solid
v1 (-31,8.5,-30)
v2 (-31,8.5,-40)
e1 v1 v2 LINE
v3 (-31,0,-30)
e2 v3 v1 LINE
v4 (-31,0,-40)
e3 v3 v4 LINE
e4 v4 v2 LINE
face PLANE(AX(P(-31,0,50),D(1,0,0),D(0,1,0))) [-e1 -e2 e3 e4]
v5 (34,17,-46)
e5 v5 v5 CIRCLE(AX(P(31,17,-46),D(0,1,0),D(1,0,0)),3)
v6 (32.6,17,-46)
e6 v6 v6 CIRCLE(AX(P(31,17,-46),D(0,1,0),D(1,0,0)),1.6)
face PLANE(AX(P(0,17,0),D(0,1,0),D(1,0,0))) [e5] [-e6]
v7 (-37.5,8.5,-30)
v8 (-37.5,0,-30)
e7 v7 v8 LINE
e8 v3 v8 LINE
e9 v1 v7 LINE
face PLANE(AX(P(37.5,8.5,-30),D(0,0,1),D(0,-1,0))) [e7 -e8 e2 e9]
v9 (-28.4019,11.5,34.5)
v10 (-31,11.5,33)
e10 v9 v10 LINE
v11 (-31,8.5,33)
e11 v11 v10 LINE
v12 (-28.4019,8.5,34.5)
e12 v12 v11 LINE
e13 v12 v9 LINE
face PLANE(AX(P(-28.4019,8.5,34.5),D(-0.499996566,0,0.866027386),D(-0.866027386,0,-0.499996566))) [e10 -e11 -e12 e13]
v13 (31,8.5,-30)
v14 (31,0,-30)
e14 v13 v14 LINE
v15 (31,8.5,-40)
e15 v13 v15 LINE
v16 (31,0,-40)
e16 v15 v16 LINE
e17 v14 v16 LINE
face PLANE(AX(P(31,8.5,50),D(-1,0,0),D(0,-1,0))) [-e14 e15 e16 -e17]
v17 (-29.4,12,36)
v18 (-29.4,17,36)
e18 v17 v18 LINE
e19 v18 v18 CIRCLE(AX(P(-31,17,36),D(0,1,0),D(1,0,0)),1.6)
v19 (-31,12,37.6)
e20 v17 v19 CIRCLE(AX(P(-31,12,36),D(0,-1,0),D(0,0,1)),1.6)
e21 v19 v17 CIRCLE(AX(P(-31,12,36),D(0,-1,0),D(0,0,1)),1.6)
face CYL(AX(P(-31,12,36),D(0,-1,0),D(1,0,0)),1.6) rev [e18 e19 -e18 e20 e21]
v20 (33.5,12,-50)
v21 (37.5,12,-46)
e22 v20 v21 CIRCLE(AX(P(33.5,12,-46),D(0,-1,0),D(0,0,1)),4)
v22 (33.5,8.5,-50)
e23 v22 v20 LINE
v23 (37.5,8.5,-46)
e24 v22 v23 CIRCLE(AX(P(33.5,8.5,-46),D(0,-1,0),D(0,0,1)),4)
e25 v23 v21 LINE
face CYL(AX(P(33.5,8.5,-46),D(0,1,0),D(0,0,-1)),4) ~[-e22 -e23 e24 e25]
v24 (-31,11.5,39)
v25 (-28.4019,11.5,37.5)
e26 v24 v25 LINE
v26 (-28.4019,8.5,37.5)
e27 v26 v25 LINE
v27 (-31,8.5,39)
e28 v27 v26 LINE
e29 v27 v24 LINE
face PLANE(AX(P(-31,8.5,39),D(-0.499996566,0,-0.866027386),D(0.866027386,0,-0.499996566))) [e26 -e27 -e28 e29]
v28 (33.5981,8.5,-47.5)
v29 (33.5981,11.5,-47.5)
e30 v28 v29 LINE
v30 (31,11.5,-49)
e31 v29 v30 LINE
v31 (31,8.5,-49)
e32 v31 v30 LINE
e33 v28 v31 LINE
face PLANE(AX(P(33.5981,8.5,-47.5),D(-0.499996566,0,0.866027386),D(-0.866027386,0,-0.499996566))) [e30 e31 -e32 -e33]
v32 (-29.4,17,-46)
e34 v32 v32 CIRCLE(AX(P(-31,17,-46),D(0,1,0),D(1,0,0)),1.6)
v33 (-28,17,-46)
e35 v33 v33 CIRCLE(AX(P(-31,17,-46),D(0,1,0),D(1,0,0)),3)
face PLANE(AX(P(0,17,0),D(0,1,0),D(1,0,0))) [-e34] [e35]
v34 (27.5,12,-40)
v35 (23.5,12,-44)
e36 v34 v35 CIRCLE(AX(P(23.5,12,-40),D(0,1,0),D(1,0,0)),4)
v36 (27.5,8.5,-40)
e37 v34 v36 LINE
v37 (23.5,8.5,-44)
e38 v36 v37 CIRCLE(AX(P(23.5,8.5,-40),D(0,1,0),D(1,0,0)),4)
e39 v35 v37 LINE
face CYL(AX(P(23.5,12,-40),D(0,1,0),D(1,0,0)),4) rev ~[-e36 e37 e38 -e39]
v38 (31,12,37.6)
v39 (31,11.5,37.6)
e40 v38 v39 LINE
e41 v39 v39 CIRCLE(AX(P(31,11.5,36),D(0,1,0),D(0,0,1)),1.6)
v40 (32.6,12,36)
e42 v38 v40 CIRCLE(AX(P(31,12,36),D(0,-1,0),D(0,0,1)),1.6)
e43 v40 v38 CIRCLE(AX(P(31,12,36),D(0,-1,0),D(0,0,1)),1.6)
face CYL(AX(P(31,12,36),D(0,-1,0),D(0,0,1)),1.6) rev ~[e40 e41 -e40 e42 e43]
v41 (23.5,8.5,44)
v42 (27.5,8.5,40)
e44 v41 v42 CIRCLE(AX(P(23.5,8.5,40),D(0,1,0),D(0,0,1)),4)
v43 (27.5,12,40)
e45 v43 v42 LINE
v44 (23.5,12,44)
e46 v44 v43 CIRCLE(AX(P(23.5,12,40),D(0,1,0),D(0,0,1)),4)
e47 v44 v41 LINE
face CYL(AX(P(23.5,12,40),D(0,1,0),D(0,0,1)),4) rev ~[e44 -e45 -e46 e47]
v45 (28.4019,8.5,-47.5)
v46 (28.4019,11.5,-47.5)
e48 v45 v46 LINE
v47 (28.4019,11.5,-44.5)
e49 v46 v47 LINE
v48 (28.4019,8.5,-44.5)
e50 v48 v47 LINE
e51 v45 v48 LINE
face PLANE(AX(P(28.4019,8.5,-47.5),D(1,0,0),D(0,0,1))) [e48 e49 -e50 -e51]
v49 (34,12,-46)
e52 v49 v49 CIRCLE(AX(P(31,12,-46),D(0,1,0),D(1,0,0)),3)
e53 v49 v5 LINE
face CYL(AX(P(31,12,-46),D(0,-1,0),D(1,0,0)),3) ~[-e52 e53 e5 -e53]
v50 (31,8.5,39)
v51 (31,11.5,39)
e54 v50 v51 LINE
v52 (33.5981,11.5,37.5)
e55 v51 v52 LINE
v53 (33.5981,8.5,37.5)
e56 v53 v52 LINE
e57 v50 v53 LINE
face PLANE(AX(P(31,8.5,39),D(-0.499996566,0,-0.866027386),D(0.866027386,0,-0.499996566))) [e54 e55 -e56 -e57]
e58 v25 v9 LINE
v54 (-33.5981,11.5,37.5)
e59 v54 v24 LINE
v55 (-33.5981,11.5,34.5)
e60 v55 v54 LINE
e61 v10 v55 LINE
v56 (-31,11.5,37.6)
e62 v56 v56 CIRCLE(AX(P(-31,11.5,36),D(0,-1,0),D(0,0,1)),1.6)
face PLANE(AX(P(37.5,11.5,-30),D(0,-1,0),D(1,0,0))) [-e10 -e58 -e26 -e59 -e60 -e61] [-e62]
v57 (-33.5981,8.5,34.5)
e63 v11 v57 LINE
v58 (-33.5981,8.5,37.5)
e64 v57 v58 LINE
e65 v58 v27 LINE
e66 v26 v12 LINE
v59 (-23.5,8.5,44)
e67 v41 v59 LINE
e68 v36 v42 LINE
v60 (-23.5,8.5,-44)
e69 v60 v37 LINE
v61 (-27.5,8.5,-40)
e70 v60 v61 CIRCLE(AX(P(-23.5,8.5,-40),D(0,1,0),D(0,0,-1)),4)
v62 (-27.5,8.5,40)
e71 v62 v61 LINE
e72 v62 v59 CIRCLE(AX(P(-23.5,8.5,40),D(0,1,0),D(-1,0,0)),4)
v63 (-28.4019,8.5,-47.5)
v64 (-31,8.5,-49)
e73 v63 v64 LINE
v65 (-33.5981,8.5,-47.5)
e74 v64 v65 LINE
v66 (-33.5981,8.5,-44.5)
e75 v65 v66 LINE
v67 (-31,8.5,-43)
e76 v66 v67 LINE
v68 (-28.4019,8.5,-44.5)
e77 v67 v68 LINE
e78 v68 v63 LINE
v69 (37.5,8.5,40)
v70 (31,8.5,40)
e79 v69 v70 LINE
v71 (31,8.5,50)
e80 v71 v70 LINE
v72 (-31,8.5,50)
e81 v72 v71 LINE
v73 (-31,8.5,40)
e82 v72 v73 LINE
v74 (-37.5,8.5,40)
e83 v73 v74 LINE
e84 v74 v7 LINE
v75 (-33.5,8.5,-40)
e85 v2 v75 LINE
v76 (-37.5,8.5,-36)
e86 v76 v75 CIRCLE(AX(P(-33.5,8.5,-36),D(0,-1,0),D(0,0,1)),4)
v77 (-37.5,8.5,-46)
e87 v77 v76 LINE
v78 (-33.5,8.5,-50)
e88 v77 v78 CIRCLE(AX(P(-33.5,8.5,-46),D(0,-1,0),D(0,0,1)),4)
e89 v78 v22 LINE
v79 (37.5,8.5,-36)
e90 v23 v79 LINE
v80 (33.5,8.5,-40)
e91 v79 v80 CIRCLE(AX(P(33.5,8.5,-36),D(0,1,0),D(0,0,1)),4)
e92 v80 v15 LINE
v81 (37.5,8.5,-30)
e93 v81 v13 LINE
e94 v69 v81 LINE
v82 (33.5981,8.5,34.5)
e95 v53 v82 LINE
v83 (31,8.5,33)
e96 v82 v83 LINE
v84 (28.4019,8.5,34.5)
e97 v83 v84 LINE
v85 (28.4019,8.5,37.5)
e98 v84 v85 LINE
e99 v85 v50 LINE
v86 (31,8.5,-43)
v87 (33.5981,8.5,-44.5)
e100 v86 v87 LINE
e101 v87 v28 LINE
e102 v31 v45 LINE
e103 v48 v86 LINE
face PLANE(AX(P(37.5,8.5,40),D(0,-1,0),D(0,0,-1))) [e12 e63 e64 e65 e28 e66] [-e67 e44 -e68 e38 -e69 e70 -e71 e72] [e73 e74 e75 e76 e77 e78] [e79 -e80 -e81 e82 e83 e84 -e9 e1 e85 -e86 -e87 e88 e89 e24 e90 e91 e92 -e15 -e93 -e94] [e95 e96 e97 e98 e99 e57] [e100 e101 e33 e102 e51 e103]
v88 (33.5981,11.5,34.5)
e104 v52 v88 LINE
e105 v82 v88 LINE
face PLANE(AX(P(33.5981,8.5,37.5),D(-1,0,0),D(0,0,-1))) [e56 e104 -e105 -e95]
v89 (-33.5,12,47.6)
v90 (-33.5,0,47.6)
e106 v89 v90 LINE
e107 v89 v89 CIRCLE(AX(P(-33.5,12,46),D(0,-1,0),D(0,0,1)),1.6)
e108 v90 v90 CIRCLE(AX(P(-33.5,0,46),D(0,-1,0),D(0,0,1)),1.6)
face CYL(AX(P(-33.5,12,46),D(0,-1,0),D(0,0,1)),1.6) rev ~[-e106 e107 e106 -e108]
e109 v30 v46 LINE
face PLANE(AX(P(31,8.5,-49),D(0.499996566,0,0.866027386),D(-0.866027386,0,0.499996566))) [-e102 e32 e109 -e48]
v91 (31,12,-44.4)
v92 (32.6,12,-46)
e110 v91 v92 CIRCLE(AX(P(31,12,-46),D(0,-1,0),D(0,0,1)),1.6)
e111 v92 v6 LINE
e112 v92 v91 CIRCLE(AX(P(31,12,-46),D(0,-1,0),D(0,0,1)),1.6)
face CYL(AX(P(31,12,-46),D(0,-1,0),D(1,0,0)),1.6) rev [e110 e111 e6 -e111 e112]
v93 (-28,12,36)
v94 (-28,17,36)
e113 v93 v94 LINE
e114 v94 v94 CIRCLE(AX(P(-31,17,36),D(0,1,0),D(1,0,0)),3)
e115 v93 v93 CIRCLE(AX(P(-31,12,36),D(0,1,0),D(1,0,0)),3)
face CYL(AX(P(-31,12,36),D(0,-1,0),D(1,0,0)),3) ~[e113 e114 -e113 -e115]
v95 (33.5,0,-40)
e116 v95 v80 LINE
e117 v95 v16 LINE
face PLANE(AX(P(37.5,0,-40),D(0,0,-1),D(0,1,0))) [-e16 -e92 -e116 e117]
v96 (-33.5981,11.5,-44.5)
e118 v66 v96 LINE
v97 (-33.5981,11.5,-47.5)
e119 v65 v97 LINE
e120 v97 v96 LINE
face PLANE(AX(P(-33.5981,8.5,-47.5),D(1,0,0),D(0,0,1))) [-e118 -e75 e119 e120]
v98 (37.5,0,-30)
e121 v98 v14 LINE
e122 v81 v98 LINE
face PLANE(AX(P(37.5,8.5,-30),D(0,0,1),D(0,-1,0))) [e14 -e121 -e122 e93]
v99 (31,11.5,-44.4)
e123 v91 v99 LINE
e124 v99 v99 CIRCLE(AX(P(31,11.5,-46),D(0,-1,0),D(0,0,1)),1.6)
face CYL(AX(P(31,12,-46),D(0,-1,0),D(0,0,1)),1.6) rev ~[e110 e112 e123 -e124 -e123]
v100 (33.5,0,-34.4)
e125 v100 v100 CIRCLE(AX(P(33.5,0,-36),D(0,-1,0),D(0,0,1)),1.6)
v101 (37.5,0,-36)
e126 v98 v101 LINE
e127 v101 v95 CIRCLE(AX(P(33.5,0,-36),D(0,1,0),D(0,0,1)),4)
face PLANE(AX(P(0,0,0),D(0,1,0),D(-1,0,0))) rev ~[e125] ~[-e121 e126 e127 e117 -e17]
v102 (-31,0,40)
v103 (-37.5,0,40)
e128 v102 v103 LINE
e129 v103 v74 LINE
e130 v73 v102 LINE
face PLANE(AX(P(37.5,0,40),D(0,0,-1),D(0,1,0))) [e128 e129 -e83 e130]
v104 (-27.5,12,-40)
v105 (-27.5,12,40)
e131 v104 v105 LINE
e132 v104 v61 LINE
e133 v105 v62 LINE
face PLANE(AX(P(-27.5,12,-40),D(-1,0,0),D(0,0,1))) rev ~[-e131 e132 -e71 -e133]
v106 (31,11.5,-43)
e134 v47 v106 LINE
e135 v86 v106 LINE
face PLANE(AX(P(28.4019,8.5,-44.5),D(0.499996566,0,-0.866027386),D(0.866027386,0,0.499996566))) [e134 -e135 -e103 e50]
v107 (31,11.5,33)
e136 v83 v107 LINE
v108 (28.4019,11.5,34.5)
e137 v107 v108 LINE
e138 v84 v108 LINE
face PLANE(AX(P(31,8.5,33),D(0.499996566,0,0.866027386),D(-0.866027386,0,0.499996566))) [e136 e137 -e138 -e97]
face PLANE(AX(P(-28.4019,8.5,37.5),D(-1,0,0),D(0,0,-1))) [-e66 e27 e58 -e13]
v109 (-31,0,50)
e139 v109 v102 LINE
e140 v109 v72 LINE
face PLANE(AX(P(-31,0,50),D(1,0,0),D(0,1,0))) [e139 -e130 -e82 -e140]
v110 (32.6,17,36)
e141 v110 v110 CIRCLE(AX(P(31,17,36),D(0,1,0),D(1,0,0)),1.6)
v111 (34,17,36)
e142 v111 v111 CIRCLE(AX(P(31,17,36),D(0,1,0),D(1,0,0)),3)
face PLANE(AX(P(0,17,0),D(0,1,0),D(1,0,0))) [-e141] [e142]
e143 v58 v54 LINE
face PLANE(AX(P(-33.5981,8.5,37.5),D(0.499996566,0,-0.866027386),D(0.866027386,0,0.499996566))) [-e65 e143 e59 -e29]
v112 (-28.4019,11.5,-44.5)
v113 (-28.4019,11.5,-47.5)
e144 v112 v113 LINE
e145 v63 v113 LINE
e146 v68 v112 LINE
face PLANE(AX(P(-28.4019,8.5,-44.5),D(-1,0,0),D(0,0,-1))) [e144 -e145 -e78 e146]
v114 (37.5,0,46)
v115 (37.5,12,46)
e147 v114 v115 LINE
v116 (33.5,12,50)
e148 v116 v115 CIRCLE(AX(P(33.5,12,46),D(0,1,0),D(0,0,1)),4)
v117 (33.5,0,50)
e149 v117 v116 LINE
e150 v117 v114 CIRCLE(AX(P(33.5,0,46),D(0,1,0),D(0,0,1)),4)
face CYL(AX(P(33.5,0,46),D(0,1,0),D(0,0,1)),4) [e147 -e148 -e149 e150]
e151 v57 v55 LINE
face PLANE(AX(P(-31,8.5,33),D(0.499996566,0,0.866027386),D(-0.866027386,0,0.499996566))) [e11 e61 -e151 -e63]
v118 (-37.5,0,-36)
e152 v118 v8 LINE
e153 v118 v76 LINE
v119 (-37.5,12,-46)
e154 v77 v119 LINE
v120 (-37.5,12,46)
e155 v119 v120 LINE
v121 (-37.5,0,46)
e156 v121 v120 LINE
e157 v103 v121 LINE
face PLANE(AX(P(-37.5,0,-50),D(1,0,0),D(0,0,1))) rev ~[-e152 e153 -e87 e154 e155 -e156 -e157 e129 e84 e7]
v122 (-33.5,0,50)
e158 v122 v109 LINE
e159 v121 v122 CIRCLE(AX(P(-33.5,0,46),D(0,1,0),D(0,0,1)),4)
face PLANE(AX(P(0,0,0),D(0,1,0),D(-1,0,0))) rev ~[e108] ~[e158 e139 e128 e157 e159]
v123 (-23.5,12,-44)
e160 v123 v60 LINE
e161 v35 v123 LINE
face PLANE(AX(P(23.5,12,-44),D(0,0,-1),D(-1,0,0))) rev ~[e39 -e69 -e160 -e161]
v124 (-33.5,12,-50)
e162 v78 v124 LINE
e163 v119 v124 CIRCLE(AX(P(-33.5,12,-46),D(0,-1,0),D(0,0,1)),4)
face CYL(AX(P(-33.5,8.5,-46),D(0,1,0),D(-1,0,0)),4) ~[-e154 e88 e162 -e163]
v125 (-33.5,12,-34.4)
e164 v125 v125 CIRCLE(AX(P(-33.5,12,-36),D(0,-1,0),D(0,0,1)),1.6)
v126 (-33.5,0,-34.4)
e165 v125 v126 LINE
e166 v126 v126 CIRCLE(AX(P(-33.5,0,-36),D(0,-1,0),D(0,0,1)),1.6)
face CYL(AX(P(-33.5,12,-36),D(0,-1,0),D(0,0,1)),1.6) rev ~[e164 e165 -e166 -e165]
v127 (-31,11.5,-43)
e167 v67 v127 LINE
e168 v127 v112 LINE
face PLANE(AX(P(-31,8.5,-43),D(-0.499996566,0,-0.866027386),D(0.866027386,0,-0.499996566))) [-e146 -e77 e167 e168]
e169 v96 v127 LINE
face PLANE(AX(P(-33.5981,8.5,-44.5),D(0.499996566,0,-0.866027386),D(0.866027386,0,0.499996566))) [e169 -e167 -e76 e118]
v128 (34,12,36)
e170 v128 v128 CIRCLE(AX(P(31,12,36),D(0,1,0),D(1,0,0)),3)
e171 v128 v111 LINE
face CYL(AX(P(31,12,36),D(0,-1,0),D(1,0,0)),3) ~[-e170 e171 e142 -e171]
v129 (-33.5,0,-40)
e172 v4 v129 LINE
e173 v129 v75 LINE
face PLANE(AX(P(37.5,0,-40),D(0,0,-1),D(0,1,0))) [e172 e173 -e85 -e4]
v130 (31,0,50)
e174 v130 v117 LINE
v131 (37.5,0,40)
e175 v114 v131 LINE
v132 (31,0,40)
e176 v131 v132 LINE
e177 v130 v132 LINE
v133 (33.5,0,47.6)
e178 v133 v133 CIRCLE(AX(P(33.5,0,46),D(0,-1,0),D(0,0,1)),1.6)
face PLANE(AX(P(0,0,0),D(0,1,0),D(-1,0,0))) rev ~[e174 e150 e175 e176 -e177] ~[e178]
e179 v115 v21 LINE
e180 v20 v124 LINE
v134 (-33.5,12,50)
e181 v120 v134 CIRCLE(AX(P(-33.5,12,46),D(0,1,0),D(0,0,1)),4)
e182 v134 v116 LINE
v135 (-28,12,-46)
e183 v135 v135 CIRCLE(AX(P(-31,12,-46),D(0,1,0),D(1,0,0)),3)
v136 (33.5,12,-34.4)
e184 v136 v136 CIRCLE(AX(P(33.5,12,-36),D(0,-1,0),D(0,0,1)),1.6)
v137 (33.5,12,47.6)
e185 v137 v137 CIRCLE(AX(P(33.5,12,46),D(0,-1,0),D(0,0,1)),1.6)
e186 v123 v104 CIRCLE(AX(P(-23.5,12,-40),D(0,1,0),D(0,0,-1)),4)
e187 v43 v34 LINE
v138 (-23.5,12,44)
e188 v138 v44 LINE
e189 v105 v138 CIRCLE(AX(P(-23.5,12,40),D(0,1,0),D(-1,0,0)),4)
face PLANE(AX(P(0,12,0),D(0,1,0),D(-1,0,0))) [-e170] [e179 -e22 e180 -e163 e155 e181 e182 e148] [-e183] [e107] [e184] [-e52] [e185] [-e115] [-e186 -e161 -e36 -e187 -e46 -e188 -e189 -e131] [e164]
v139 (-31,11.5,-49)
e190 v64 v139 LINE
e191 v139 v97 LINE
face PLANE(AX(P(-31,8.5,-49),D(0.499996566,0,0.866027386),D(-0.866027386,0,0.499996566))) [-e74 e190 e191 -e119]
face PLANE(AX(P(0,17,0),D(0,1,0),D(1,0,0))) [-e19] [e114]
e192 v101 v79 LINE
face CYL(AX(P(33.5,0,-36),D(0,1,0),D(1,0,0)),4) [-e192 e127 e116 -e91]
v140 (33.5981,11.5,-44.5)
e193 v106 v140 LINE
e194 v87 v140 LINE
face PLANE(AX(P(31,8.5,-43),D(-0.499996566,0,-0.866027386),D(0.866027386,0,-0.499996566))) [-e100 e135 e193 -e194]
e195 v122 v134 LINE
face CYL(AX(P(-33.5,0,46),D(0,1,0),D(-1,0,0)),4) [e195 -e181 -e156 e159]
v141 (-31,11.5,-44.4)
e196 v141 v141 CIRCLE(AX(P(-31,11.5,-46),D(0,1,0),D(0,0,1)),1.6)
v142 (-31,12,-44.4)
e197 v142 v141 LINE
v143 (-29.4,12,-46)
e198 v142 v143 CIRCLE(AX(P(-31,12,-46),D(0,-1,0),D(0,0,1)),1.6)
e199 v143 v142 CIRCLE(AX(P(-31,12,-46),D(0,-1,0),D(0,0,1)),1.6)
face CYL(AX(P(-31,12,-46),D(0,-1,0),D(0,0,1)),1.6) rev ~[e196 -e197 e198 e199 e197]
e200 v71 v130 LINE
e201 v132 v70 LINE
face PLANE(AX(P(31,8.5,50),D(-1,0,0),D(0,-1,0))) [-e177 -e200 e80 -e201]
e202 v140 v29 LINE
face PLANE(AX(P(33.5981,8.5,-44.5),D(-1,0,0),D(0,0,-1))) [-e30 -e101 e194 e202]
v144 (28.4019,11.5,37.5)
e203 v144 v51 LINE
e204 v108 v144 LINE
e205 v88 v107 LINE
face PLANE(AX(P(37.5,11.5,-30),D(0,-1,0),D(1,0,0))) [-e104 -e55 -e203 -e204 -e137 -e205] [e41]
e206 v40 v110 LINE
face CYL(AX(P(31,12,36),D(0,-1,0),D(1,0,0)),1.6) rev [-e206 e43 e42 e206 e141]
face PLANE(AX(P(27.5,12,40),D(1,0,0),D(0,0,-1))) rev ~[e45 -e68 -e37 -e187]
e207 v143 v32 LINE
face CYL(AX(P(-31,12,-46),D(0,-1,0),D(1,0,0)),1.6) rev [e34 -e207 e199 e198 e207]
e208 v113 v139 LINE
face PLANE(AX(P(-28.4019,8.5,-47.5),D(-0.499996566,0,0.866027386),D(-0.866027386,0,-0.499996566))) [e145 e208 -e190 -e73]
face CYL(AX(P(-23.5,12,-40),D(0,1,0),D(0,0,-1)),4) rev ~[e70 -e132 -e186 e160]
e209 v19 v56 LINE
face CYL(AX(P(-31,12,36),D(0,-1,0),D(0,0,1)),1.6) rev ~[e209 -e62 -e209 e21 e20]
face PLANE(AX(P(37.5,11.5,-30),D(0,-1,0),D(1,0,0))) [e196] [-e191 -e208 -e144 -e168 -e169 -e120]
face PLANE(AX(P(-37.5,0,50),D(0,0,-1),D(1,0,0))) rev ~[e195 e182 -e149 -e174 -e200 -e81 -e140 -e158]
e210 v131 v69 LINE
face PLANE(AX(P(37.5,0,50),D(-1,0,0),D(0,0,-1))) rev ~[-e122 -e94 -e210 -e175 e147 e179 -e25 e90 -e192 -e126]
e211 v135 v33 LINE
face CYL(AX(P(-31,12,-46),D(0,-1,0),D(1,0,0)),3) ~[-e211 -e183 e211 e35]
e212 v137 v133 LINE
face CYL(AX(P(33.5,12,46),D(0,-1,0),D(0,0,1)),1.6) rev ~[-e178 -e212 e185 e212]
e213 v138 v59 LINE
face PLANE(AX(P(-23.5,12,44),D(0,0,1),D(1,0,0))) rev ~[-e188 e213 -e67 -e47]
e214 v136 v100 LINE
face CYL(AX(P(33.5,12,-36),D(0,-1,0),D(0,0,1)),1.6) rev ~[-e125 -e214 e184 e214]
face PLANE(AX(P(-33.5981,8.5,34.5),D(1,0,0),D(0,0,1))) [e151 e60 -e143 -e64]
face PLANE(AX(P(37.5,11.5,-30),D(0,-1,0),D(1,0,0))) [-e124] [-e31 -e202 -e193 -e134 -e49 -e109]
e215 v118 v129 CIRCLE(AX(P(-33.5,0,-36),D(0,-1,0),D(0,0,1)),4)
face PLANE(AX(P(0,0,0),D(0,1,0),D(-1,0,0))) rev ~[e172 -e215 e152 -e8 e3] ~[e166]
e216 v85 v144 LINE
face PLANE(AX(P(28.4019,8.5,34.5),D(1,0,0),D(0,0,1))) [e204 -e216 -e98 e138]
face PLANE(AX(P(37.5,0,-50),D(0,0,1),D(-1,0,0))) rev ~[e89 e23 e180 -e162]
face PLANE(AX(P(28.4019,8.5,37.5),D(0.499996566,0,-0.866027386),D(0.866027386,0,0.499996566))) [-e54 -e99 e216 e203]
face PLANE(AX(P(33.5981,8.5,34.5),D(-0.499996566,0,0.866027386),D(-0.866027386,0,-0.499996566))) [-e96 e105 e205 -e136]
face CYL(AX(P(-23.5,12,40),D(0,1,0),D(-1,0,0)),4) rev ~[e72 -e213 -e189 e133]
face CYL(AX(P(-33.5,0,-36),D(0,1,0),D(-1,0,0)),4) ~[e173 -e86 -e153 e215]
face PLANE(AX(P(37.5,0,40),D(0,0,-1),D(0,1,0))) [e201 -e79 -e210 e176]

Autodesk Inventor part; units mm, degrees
ref_plane "YZ Plane" through (0, 0, 0) normal (1, 0, 0) x (0, 1, 0)
ref_plane "XZ Plane" through (0, 0, 0) normal (0, 1, 0) x (-1, 0, 0)
ref_plane "XY Plane" through (0, 0, 0) normal (0, 0, 1) x (1, 0, 0)
sketch "Sketch8" plane through (0, 0, 0) normal (0, 1, 0) x (-1, 0, 0)
  line L0 (37.5, 50) -> (-37.5, 50)
  line L1 (-37.5, 50) -> (-37.5, -50)
  line L2 (-37.5, -50) -> (37.5, -50)
  line L3 (37.5, -50) -> (37.5, 50)
  point P0 (0, 0)
  point P1 (37.5, 0)
  point P2 (0, 50)
  dimension "d42" = 100
  dimension "d43" = 75
extrude "Extrusion5" add sketch "Sketch8" along normal blind 12
sketch "Sketch9" plane through (0, 12, 0) normal (0, 1, 0) x (1, 0, 0)
  line L0 (-37.5, 50) -> (-37.5, -50) projected
  line L1 (-37.5, -50) -> (37.5, -50) projected
  point P0 (0, 0)
  point P1 (-33.5, -46)
  point P2 (-33.5, 36)
  point P3 (33.5, 36)
  point P4 (33.5, -46)
  dimension "d46" = 67
  dimension "d47" = 82
  dimension "d48" = 4
  dimension "d49" = 4
hole "Hole3" at (-33.5, 12, 46) at (-33.5, 12, -36) at (33.5, 12, -36) at (33.5, 12, 46) direction (0, -1, 0) diameter 3.2 end through all
sketch "Sketch10" plane through (0, 12, 0) normal (0, 1, 0) x (1, 0, 0)
  line L0 (37.5, 50) -> (-37.5, 50) projected
  point P0 (0, 0)
  point P1 (-31, -36)
  point P2 (-31, 46)
  point P3 (31, 46)
  point P4 (31, -36)
  dimension "d57" = 62
  dimension "d58" = 82
  dimension "d59" = 4
  dimension "d60" = 31
hole "Hole4" at (-31, 12, 36) at (-31, 12, -46) at (31, 12, -46) at (31, 12, 36) direction (0, -1, 0) diameter 3.2 end through all
sketch "Sketch11" plane through (37.5, 0, 50) normal (1, 0, 0) x (0, 0, -1)
  line L0 (10, 8.5) -> (80, 8.5)
  line L1 (80, 8.5) -> (80, 0)
  line L2 (80, 0) -> (10, 0)
  line L3 (10, 0) -> (10, 8.5)
  line L4 (0, 0) -> (0, 12) projected
  line L5 (0, 0) -> (100, 0) projected
  point P0 (50, 0)
  point P1 (45, 0)
  dimension "d69" = 8.5
  dimension "d70" = 70
  dimension "d71" = 45
extrude "Extrusion6" cut sketch "Sketch11" against normal through all
sketch "Sketch12" plane through (-37.5, 0, 50) normal (0, 0, 1) x (1, 0, 0)
  line L0 (6.5, 8.5) -> (68.5, 8.5)
  line L1 (68.5, 8.5) -> (68.5, 0)
  line L2 (68.5, 0) -> (6.5, 0)
  line L3 (6.5, 0) -> (6.5, 8.5)
  line L4 (0, 0) -> (75, 0) projected
  point P0 (37.5, 0)
  point P1 (37.5, 0)
  dimension "d74" = 8.5
  dimension "d75" = 62
extrude "Extrusion7" cut sketch "Sketch12" against normal through all
sketch "Sketch13" plane through (37.5, 0, -50) normal (1, 0, 0) x (0, 0, -1)
  line L0 (0, 0) -> (0, 12) projected
  line L1 (0, 0) -> (-10, 0)
  line L2 (-10, 0) -> (-10, 8.5)
  line L3 (-10, 8.5) -> (0, 8.5)
  line L4 (0, 8.5) -> (0, 0)
  line L5 (-20, 8.5) -> (-20, 0) projected
  line L6 (-90, 8.5) -> (-20, 8.5) projected
  point P0 (-50, 0)
  dimension "d78" = 10
extrude "Extrusion8" cut sketch "Sketch13" against normal through all
fillet "Fillet1" radius 4 6 edges at (-37.5, 4.25, -40) (-37.5, 10.25, -50) (-37.5, 6, 50) (37.5, 6, 50) (37.5, 4.25, -40) (37.5, 10.25, -50)
sketch "Sketch14" plane through (0, 12, 0) normal (0, 1, 0) x (1, 0, 0)
  line L0 (-23.5, -44) -> (23.5, -44)
  line L1 (27.5, -40) -> (27.5, 40)
  line L2 (23.5, 44) -> (-23.5, 44)
  line L3 (-27.5, 40) -> (-27.5, -40)
  line L4 (-33.5, -50) -> (33.5, -50) projected
  line L5 (33.5, 50) -> (-33.5, 50) projected
  line L6 (-37.5, 46) -> (-37.5, -46) projected
  line L7 (37.5, -46) -> (37.5, 46) projected
  arc A0 (-27.5, -40) -> (-23.5, -44) centre (-23.5, -40) ccw
  arc A1 (23.5, -44) -> (27.5, -40) centre (23.5, -40) ccw
  arc A2 (27.5, 40) -> (23.5, 44) centre (23.5, 40) ccw
  arc A3 (-23.5, 44) -> (-27.5, 40) centre (-23.5, 40) ccw
  point P0 (0, 0)
  dimension "d82" = 6
  dimension "d83" = 6
  dimension "d84" = 10
  dimension "d85" = 10
  dimension "d86" = 4
extrude "Extrusion9" cut sketch "Sketch14" against normal through all
sketch "Sketch15" plane through (0, 12, 0) normal (0, 1, 0) x (1, 0, 0)
  circle A0 centre (-31, 46) radius 1.6 projected
  circle A1 centre (-31, 46) radius 3
  circle A2 centre (-31, -36) radius 1.6 projected
  circle A3 centre (-31, -36) radius 3
  circle A4 centre (31, -36) radius 1.6 projected
  circle A5 centre (31, -36) radius 3
  circle A6 centre (31, 46) radius 1.6 projected
  circle A7 centre (31, 46) radius 3
  point P0 (0, 0)
  dimension "d89" = 6
  dimension "d90" = 6
  dimension "d91" = 6
  dimension "d92" = 6
extrude "Extrusion10" add sketch "Sketch15" along normal blind 5
sketch "Sketch16" plane through (37.5, 8.5, -30) normal (0, -1, 0) x (1, 0, 0)
  circle A0 centre (-6.5, 66) radius 1.6 projected
  circle A1 centre (-6.5, 66) radius 3 projected
  line L0 (-6.5, 63) -> (-9.0981, 64.5)
  line L1 (-9.0981, 64.5) -> (-9.0981, 67.5)
  line L2 (-9.0981, 67.5) -> (-6.5, 69)
  line L3 (-6.5, 69) -> (-3.9019, 67.5)
  line L4 (-3.9019, 67.5) -> (-3.9019, 64.5)
  line L5 (-3.9019, 64.5) -> (-6.5, 63)
  circle A2 centre (-68.5, -16) radius 1.6 projected
  circle A3 centre (-68.5, -16) radius 3 projected
  line L6 (-68.5, -13) -> (-65.9019, -14.5)
  line L7 (-65.9019, -14.5) -> (-65.9019, -17.5)
  line L8 (-65.9019, -17.5) -> (-68.5, -19)
  line L9 (-68.5, -19) -> (-71.0981, -17.5)
  line L10 (-71.0981, -17.5) -> (-71.0981, -14.5)
  line L11 (-71.0981, -14.5) -> (-68.5, -13)
  circle A4 centre (-68.5, 66) radius 1.6 projected
  circle A5 centre (-68.5, 66) radius 3 projected
  line L12 (-68.5, 63) -> (-71.0981, 64.5)
  line L13 (-71.0981, 64.5) -> (-71.0981, 67.5)
  line L14 (-71.0981, 67.5) -> (-68.5, 69)
  line L15 (-68.5, 69) -> (-65.9019, 67.5)
  line L16 (-65.9019, 67.5) -> (-65.9019, 64.5)
  line L17 (-65.9019, 64.5) -> (-68.5, 63)
  circle A6 centre (-6.5, -16) radius 3 projected
  line L18 (-6.5, -19) -> (-9.0981, -17.5)
  line L19 (-9.0981, -17.5) -> (-9.0981, -14.5)
  line L20 (-9.0981, -14.5) -> (-6.5, -13)
  line L21 (-6.5, -13) -> (-3.9019, -14.5)
  line L22 (-3.9019, -14.5) -> (-3.9019, -17.5)
  line L23 (-3.9019, -17.5) -> (-6.5, -19)
  point P0 (-37.5, 30)
  point P1 (-6.5, -16)
extrude "Extrusion11" cut sketch "Sketch16" against normal blind 3 contours L4 L5 L0 L1 L2 L3 | L7 L8 L9 L10 L11 L6 | A4 | L16 L17 L12 L13 L14 L15 | L22 L23 L18 L19 L20 L21
equation "\"d60\" = 0.5 * d57"
equation "\"d83\" = d82"
equation "\"d85\" = d84"
equation "\"d90\" = d89"
equation "\"d91\" = d89"
equation "\"d92\" = d89"
properties part number "phone_clamp_v2"
